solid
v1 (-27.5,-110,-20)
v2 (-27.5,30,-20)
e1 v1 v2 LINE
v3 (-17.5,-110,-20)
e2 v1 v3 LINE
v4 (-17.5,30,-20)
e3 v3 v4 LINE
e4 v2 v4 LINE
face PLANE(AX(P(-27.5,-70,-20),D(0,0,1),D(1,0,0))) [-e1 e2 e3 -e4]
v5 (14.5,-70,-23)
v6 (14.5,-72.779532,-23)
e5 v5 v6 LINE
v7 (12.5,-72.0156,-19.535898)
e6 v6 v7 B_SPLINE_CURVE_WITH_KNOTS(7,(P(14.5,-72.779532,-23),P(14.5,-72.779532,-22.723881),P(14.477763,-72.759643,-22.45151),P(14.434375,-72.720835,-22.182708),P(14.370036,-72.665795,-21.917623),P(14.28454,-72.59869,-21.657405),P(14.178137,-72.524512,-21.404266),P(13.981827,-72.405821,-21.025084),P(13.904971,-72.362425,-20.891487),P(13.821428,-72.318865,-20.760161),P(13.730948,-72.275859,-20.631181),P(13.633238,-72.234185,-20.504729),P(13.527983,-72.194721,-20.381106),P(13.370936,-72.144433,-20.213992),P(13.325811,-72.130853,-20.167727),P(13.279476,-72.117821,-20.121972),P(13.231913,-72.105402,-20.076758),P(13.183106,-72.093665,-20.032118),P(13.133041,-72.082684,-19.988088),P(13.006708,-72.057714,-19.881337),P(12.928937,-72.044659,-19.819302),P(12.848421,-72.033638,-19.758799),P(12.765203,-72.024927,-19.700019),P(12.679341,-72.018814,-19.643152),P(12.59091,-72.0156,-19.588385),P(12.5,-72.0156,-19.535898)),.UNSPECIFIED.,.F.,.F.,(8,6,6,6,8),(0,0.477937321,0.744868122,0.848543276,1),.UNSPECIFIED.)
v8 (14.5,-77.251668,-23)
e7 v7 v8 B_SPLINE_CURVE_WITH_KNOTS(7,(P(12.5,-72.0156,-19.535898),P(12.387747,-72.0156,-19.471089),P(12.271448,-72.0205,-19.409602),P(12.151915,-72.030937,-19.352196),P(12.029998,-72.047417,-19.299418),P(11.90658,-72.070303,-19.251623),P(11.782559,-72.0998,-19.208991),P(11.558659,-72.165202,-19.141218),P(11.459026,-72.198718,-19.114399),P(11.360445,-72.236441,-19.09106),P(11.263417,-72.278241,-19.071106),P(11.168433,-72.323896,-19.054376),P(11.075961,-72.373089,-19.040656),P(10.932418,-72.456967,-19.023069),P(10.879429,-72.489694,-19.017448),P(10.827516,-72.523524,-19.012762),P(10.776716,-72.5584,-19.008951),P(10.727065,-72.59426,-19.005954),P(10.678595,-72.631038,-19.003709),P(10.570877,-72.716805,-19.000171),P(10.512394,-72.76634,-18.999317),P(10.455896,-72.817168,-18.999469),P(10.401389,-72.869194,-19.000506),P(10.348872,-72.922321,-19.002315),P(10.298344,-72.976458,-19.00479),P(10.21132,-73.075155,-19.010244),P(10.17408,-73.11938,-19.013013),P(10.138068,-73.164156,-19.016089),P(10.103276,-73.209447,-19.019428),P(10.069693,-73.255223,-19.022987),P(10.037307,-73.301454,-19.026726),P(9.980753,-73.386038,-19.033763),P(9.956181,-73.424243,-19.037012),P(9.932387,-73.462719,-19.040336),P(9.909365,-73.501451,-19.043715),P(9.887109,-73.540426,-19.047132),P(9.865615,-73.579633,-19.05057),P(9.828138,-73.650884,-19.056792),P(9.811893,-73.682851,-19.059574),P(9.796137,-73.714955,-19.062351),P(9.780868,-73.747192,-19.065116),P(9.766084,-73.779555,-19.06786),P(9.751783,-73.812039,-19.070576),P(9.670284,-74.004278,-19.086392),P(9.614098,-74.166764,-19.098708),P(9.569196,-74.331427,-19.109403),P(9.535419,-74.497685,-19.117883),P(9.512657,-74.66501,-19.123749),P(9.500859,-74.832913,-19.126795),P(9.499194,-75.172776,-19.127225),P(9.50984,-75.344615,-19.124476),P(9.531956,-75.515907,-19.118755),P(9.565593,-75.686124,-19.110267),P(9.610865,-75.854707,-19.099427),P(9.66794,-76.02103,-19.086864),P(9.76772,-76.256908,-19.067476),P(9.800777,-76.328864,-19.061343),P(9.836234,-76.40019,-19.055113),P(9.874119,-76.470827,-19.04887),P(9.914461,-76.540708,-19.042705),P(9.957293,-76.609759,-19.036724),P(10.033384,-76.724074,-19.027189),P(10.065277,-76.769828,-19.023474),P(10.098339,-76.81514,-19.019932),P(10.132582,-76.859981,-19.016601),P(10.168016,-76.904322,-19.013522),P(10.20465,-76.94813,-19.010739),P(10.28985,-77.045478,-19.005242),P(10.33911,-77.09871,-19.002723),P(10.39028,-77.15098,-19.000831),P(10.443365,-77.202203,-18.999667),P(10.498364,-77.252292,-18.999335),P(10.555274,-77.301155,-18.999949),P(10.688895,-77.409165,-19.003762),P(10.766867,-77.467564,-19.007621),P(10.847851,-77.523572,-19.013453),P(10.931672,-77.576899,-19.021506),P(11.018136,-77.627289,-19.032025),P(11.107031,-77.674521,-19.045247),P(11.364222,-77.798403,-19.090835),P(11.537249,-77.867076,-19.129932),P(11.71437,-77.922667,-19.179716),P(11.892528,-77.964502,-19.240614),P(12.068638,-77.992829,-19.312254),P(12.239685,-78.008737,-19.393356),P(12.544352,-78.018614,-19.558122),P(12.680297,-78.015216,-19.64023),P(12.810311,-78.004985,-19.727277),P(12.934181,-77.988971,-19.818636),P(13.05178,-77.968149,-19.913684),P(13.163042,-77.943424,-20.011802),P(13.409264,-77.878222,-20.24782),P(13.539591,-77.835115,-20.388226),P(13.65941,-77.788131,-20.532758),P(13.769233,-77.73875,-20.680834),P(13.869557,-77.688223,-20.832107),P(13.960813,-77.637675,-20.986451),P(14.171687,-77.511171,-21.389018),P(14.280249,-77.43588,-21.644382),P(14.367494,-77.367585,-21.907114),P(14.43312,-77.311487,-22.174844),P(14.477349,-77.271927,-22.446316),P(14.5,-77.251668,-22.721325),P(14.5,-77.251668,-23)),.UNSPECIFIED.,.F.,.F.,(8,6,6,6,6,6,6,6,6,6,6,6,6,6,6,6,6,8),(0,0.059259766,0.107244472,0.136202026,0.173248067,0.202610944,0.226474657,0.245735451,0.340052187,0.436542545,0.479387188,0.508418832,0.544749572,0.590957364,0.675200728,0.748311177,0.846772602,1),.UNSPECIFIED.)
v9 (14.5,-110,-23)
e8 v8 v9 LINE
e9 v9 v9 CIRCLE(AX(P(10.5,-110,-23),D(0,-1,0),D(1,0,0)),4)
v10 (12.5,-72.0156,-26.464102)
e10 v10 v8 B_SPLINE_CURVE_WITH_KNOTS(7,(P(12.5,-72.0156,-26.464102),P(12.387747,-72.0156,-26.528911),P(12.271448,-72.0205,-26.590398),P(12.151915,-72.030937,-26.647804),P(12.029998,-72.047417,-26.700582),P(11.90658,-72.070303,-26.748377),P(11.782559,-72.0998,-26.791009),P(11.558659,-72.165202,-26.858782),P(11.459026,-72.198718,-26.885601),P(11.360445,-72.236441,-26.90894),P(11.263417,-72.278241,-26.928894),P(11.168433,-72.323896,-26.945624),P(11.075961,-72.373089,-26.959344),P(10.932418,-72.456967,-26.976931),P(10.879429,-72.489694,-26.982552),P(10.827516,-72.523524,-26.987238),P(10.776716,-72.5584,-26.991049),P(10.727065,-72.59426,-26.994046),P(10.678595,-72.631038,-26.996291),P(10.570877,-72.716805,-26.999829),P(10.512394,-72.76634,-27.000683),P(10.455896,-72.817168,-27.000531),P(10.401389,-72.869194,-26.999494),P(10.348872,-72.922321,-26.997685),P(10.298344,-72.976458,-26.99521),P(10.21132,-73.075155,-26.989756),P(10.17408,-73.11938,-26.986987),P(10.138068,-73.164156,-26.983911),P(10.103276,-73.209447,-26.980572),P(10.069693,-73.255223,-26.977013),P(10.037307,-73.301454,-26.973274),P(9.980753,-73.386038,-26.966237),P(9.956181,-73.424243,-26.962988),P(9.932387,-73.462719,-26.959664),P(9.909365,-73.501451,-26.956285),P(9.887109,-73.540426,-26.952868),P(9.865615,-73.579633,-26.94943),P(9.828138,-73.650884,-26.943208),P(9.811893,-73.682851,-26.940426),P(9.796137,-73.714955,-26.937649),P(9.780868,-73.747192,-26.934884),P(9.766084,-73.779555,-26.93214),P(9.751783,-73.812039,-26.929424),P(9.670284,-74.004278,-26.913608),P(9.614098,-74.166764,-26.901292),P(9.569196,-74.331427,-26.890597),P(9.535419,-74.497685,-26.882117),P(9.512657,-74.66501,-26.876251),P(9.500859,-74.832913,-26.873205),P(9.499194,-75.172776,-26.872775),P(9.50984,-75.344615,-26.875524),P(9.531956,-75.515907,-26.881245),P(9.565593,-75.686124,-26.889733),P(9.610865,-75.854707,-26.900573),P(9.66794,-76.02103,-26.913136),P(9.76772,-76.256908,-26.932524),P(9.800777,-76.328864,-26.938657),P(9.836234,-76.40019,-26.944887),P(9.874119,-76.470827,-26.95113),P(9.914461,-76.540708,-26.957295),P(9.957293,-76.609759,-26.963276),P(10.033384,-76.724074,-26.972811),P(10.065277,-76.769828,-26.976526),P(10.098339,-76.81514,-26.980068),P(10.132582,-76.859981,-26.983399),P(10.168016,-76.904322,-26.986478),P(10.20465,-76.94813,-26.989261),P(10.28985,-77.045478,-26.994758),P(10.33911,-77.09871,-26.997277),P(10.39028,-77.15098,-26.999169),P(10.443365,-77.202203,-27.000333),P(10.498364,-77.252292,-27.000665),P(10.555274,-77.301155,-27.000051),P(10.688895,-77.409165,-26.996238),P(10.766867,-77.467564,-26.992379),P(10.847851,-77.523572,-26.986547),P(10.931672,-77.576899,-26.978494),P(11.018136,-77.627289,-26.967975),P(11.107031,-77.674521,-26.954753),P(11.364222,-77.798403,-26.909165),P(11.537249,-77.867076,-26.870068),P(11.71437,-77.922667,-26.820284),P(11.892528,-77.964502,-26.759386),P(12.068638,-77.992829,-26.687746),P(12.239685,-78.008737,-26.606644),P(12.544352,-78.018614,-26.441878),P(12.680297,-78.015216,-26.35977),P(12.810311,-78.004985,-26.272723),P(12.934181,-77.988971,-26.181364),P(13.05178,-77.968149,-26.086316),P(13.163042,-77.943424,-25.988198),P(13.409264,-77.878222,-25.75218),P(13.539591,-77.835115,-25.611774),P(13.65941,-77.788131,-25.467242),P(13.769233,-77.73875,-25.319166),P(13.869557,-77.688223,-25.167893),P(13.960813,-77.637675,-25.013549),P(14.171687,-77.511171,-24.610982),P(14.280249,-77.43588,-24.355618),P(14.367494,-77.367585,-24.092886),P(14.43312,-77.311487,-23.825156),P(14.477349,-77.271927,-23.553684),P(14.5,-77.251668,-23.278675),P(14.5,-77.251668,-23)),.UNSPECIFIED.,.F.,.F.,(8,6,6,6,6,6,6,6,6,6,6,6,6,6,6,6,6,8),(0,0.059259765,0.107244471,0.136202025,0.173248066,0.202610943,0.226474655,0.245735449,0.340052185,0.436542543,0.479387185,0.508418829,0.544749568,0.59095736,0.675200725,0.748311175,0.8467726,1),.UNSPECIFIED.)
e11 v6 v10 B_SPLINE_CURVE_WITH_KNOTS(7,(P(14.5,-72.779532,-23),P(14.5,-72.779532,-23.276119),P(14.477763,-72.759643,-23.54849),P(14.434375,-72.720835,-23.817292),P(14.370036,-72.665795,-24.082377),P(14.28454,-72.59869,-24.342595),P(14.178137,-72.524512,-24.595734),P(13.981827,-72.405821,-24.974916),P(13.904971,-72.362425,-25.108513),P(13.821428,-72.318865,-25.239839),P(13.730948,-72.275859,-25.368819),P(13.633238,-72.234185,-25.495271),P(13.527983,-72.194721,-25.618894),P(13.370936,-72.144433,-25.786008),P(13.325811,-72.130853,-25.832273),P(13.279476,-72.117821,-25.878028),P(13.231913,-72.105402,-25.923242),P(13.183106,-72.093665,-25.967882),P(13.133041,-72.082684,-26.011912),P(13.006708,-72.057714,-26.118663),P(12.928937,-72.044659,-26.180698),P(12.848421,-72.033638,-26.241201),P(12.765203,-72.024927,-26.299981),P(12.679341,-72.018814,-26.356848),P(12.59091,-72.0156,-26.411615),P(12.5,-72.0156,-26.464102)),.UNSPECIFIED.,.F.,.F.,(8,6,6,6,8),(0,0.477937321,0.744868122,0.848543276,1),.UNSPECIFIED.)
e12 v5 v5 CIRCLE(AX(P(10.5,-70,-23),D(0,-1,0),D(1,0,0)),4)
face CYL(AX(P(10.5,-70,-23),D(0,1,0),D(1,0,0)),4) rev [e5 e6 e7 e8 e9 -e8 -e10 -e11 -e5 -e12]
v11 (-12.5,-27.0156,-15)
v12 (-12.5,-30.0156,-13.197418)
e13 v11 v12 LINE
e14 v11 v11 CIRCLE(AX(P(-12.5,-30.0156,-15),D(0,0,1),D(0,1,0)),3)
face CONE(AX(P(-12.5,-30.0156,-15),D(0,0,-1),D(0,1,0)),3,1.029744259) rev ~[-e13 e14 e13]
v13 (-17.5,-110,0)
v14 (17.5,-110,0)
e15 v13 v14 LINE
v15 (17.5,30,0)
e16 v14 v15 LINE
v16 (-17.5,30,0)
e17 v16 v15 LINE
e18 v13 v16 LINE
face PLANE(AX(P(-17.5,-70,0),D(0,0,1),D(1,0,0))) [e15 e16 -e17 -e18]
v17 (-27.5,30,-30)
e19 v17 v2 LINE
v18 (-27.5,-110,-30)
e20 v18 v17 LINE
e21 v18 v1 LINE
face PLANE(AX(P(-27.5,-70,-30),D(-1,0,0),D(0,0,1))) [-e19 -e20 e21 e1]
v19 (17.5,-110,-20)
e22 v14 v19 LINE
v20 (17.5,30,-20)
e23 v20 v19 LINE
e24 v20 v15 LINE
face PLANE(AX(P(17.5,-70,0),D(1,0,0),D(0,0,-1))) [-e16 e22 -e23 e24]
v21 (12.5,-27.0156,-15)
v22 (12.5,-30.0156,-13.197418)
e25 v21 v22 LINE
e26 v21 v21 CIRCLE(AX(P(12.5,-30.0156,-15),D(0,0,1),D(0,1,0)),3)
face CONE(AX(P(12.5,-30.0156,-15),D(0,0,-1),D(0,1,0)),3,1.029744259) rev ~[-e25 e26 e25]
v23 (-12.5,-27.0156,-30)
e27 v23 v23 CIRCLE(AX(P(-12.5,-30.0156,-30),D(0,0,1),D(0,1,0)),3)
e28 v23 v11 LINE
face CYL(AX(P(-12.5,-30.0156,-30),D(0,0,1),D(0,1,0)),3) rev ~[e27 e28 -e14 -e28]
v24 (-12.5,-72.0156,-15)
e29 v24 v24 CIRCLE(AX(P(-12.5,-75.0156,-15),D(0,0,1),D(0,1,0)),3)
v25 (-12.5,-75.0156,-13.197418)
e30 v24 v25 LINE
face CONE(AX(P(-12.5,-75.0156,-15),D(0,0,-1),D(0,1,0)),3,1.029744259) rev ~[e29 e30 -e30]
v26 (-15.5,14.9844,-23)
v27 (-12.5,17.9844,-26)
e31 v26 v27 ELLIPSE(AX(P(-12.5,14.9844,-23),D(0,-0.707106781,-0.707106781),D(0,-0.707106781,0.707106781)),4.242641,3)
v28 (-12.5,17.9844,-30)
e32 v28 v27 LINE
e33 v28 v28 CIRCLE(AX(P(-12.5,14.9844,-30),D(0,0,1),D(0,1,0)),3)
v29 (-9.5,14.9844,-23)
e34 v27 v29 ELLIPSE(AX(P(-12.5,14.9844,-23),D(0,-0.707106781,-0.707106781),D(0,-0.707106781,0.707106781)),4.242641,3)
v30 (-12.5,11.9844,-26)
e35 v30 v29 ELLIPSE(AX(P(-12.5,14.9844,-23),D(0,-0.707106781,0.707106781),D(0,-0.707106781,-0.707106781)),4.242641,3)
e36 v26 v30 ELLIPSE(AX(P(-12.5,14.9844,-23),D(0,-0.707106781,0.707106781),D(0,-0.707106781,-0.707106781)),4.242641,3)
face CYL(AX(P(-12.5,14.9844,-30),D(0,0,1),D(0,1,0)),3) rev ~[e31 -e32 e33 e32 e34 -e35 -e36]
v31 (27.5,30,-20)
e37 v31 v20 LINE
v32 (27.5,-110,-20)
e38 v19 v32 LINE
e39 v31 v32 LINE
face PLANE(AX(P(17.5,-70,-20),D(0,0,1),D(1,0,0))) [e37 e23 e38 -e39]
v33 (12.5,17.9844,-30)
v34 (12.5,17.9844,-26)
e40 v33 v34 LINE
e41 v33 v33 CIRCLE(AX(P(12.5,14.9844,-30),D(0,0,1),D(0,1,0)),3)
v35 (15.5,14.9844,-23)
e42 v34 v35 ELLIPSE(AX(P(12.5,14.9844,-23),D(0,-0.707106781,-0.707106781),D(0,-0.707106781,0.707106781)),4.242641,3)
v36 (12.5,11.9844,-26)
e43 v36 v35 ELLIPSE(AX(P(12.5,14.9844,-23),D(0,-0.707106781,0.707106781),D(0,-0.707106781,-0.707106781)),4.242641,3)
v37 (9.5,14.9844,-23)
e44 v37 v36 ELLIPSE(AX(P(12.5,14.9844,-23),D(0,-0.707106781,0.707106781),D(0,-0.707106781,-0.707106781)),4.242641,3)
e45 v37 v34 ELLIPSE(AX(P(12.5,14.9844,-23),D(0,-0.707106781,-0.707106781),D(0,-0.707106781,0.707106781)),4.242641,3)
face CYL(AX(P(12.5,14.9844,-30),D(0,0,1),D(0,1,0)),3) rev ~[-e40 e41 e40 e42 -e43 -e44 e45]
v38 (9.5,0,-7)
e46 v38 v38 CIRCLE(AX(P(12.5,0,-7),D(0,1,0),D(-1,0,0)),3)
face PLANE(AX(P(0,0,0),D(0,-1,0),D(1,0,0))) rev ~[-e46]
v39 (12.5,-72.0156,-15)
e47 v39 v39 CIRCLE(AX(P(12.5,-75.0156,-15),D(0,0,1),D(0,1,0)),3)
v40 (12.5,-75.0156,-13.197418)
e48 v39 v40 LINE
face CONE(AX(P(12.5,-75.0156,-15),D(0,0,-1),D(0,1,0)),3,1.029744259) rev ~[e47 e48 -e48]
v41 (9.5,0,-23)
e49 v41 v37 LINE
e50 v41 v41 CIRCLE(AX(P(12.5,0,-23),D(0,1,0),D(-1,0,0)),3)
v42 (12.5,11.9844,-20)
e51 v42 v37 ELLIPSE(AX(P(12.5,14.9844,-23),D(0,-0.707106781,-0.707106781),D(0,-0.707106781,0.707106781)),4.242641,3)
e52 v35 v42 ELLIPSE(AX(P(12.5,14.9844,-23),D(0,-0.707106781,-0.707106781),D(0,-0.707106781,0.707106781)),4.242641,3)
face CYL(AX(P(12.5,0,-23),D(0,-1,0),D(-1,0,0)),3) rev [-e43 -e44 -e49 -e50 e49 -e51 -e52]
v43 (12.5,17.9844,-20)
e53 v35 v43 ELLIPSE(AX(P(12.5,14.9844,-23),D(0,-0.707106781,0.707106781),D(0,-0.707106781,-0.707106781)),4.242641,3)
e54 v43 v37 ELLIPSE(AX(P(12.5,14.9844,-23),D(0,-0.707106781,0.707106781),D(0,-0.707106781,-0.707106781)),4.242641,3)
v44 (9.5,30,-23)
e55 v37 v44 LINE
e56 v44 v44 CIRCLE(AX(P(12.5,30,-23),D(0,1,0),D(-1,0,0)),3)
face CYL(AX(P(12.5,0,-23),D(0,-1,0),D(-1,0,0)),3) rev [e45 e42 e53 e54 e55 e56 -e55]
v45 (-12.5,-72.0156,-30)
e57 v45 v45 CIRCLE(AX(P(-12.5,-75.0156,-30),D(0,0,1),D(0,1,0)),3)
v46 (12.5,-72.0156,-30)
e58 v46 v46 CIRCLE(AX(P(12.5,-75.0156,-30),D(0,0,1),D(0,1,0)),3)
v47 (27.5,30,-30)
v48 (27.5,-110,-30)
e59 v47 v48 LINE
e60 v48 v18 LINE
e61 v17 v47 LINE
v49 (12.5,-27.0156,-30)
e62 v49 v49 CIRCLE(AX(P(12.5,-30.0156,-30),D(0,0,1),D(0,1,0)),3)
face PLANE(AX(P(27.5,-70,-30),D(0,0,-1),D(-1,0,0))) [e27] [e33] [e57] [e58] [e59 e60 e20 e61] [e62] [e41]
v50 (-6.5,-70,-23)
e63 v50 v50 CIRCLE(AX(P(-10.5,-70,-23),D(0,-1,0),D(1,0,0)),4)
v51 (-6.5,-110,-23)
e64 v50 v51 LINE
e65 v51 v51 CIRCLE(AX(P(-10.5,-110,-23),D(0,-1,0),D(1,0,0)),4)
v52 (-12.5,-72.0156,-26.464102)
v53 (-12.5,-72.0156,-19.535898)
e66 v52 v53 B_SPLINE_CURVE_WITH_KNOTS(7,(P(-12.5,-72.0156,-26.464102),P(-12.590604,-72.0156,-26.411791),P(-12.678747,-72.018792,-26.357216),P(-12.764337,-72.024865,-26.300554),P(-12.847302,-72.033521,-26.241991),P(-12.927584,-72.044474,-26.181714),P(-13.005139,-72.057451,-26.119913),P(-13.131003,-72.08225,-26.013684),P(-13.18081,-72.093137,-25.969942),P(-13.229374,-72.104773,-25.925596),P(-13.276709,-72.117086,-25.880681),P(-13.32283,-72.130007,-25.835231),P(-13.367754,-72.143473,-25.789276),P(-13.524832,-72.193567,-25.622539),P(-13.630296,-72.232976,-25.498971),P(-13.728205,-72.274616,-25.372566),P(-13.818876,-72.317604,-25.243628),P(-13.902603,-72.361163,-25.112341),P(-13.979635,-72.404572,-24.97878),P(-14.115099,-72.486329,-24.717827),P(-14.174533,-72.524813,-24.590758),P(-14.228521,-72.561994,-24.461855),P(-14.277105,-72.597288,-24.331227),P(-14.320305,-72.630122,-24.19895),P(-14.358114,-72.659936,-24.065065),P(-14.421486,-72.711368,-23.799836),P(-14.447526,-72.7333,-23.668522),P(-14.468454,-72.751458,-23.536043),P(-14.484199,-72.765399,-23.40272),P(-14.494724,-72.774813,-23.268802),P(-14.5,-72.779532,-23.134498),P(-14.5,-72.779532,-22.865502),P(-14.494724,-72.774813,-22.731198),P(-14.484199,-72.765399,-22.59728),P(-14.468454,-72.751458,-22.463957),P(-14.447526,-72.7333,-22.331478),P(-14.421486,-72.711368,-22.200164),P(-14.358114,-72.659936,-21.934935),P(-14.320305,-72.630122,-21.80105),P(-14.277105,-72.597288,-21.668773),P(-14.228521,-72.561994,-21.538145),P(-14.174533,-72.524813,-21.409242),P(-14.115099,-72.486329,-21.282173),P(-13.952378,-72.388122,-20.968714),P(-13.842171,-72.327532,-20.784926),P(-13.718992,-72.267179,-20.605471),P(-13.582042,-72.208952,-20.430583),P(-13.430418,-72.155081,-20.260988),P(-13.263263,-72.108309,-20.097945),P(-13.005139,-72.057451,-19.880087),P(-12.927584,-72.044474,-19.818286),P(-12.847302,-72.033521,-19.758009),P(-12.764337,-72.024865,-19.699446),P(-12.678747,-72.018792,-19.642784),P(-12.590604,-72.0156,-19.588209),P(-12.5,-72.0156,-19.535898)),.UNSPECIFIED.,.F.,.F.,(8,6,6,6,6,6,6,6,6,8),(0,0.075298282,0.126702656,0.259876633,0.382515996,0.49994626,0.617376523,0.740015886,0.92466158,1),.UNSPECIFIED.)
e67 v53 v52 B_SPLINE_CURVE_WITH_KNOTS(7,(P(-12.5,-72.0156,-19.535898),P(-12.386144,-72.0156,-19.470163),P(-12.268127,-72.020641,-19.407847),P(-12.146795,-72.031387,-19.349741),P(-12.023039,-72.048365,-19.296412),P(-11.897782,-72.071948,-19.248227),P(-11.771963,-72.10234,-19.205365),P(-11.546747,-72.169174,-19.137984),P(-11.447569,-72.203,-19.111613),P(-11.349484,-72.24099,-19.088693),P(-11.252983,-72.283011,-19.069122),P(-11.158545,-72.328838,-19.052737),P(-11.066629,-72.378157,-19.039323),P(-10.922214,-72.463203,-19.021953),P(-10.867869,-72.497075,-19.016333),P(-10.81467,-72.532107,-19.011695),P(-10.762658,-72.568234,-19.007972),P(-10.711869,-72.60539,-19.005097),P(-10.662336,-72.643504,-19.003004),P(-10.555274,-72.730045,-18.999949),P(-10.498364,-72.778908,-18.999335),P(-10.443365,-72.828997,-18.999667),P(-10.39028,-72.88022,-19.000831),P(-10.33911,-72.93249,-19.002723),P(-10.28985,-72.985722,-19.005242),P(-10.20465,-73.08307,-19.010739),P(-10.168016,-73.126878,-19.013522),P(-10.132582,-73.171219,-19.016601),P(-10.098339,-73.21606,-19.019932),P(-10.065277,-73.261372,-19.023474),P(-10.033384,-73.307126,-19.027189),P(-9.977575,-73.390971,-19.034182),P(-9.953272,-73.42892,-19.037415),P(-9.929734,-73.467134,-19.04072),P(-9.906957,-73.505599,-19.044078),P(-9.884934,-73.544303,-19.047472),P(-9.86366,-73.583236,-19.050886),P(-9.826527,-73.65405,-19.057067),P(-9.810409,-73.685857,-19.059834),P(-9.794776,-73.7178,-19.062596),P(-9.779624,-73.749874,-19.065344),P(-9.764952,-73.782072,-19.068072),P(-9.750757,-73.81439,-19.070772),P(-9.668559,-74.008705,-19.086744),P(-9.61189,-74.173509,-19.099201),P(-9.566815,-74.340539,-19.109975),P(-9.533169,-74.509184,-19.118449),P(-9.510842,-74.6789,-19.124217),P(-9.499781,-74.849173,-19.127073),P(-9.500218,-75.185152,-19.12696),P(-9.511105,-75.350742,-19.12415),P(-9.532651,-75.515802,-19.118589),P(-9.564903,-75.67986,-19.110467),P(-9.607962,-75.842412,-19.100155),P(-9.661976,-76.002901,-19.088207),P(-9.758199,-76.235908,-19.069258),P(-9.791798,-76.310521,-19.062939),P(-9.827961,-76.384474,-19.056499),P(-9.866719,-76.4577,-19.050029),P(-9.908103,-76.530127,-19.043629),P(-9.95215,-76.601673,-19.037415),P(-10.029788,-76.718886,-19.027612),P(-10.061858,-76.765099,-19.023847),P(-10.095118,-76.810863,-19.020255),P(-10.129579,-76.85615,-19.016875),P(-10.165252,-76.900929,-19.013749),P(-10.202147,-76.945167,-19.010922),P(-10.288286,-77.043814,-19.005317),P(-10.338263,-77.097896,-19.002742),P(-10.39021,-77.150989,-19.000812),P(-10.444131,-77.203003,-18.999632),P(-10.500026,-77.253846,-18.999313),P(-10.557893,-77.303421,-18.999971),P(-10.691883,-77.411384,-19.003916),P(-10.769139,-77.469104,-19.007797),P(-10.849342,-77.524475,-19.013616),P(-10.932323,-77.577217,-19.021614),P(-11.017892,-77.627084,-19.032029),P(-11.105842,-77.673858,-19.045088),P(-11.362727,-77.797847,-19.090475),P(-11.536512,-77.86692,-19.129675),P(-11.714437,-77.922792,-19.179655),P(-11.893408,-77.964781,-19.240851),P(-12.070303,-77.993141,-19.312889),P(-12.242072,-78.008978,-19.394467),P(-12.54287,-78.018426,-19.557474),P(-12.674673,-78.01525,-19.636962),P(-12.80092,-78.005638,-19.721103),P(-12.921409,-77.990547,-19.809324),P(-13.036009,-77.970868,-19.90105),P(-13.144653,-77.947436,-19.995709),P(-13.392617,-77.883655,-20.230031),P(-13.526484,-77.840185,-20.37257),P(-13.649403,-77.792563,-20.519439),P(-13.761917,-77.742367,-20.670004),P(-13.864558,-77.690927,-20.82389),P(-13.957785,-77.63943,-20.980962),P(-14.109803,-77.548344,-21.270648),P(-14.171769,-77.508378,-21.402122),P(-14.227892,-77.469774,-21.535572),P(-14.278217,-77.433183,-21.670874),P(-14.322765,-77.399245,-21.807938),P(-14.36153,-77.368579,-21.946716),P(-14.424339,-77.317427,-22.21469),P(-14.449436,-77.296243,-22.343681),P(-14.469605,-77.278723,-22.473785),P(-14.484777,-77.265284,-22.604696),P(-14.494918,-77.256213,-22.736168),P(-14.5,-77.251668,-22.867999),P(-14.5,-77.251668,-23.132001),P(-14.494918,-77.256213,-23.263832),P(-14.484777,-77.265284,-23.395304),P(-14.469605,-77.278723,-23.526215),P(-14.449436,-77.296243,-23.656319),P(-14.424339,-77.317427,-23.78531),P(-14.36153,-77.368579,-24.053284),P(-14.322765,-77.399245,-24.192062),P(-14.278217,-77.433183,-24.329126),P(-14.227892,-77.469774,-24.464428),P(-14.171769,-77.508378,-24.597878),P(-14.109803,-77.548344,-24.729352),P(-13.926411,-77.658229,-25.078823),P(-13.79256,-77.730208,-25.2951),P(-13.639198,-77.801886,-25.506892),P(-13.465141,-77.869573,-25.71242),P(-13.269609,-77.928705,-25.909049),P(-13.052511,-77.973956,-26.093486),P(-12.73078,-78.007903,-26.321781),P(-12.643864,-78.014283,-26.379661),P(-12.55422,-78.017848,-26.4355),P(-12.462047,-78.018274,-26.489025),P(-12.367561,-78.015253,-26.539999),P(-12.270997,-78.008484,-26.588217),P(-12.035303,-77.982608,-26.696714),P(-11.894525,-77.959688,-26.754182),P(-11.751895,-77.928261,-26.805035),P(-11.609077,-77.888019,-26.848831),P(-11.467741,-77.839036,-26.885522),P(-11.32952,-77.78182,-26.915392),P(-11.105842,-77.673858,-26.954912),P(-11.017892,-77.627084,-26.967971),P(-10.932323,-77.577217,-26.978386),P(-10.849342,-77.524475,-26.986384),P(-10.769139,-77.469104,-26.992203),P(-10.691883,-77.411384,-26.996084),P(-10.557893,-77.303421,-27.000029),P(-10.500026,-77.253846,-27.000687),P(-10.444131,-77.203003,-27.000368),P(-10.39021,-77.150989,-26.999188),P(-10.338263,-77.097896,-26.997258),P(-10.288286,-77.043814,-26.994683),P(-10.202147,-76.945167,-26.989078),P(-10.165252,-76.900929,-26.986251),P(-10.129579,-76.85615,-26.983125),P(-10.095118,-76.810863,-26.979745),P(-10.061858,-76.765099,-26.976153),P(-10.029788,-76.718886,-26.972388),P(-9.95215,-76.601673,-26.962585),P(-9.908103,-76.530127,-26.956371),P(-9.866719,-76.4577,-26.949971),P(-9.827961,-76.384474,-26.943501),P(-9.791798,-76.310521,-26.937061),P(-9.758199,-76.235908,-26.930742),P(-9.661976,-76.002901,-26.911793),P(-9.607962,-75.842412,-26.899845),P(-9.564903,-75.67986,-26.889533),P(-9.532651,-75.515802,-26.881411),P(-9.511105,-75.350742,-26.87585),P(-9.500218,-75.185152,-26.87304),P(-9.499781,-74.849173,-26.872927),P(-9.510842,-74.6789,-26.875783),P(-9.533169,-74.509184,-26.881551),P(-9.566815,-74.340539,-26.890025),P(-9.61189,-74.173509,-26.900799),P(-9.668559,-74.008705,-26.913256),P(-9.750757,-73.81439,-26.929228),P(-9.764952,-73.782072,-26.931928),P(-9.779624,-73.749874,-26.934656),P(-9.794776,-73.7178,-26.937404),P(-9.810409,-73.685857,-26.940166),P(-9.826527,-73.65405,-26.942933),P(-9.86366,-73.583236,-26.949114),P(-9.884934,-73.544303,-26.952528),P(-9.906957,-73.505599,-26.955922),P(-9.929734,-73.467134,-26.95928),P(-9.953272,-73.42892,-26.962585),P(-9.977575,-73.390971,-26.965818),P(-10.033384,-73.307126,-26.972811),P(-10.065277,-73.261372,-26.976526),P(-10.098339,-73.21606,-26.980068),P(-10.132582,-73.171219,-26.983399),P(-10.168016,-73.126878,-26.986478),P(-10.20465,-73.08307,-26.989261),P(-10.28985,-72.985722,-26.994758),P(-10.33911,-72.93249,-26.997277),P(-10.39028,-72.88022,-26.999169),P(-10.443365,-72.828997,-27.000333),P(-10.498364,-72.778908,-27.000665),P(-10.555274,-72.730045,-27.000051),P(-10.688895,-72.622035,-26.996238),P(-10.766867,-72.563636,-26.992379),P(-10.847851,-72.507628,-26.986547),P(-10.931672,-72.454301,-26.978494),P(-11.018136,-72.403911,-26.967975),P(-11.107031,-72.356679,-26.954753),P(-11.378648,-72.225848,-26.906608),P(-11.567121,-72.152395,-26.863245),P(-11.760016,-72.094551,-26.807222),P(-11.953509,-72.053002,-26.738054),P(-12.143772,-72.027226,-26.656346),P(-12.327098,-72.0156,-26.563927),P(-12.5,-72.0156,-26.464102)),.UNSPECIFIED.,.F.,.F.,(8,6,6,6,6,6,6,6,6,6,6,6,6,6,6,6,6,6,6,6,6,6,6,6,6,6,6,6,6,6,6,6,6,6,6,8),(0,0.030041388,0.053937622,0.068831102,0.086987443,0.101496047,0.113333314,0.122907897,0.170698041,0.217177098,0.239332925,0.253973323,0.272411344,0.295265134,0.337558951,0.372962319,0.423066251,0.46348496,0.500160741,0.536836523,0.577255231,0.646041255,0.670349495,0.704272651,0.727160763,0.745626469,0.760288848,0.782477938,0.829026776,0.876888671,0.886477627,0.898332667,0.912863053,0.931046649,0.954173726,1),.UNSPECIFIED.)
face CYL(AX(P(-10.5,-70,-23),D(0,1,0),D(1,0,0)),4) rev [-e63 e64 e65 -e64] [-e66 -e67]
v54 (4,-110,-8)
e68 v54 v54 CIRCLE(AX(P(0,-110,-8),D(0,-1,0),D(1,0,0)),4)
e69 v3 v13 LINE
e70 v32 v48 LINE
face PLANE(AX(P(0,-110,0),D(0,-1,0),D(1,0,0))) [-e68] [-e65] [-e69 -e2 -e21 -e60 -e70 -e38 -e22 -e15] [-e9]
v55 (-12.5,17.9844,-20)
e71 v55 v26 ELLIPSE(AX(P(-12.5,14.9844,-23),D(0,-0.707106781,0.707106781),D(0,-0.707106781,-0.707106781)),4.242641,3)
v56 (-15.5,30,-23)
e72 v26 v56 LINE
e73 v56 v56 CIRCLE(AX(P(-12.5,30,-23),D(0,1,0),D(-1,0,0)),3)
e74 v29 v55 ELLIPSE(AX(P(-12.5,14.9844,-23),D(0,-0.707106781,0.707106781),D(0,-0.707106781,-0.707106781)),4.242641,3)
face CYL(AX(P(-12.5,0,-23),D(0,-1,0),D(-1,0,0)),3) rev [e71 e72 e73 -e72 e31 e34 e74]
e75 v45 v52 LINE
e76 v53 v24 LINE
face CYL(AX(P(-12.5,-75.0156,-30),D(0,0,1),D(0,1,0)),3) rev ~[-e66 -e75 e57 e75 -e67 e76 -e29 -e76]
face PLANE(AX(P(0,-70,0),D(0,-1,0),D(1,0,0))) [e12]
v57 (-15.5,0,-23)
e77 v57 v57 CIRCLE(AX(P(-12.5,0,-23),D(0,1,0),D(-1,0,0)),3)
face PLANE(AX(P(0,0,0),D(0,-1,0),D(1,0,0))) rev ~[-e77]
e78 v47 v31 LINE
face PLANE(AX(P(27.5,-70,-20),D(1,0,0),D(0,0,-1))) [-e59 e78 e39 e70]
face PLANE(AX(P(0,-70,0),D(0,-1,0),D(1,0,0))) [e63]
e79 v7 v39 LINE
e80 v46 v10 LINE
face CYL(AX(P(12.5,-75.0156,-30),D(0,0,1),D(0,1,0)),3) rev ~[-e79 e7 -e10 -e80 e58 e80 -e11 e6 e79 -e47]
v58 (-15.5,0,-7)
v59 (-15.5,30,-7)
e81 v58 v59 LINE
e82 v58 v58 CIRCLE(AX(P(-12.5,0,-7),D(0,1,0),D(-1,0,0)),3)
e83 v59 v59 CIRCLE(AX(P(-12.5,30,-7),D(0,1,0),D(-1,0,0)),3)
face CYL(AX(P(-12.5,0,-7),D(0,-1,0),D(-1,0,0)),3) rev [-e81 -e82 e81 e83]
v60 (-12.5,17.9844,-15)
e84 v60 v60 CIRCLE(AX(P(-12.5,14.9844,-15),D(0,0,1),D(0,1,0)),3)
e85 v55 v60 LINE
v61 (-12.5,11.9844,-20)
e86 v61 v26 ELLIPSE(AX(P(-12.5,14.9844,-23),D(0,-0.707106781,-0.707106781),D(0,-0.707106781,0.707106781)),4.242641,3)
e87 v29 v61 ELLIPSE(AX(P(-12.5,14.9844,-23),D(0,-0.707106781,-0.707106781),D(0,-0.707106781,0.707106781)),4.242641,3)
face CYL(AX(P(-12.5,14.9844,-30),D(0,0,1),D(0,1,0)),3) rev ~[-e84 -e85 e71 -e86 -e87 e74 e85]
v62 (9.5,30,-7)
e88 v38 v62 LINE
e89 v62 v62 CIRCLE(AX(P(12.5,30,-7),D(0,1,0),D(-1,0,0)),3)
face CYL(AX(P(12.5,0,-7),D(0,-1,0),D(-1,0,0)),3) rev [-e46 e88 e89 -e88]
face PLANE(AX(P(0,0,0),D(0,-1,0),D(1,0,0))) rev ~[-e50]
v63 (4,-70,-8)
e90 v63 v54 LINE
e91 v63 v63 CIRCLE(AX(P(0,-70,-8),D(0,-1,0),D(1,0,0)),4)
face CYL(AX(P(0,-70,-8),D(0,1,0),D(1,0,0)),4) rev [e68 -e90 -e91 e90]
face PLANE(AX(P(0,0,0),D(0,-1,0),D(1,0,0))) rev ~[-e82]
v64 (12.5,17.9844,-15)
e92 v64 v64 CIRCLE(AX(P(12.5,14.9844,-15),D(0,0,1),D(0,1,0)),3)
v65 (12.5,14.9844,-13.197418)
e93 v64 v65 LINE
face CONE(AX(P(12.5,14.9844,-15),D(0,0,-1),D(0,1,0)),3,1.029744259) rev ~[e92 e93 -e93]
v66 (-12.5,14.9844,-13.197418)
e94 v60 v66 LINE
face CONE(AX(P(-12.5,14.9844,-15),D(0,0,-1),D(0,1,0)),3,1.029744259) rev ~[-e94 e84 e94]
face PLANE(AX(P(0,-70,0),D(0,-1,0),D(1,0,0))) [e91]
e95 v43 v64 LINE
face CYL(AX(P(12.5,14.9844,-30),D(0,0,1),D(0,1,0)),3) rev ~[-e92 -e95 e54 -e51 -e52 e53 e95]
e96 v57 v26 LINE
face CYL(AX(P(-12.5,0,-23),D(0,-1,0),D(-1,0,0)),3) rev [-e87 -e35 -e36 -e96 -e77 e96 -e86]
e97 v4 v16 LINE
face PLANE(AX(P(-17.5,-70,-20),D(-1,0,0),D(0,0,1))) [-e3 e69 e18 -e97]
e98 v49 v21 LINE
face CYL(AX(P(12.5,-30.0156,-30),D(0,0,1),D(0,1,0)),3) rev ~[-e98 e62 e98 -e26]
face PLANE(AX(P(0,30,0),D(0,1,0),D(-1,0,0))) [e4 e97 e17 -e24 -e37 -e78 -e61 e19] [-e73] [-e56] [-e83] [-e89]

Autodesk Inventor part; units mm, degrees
ref_plane "YZ Plane" through (0, 0, 0) normal (1, 0, 0) x (0, 1, 0)
ref_plane "XZ Plane" through (0, 0, 0) normal (0, 1, 0) x (-1, 0, 0)
ref_plane "XY Plane" through (0, 0, 0) normal (0, 0, 1) x (1, 0, 0)
sketch "Sketch1" plane through (0, 0, 0) normal (0, 1, 0) x (-1, 0, 0)
  line L0 (17.5, 0) -> (-17.5, 0)
  line L1 (27.5, -30) -> (-27.5, -30)
  line L2 (27.5, -30) -> (27.5, -20)
  line L3 (27.5, -20) -> (17.5, -20)
  line L4 (-27.5, -30) -> (-27.5, -20)
  line L5 (-27.5, -20) -> (-17.5, -20)
  line L6 (17.5, -20) -> (17.5, 0)
  line L7 (-17.5, -20) -> (-17.5, 0)
  circle A0 centre (12.5, -23) radius 3
  circle A1 centre (-12.5, -23) radius 3
  circle A2 centre (-12.5, -7) radius 3
  circle A3 centre (12.5, -7) radius 3
  point P0 (0, 0)
  dimension "d2" = 35
  dimension "d8" = 55
  dimension "d9" = 10
  dimension "d10" = 10
  dimension "d11" = 6
  dimension "d12" = 6
  dimension "d13" = 6
  dimension "d14" = 6
  dimension "d17" = 7
  dimension "d18" = 16
extrude "Extrusion1" add sketch "Sketch1" along normal blind 30
sketch "Sketch4" plane through (0, 0, 0) normal (0, -1, 0) x (1, 0, 0)
  line L0 (27.5, -20) -> (27.5, -30) projected
  line L1 (27.5, -30) -> (-27.5, -30) projected
  line L2 (27.5, -30) -> (-27.5, -30)
  line L3 (-27.5, -30) -> (-27.5, -20) projected
  line L4 (-27.5, -30) -> (-27.5, -20)
  line L5 (-27.5, -20) -> (-17.5, -20) projected
  line L6 (-27.5, -20) -> (-17.5, -20)
  line L7 (-17.5, -20) -> (-17.5, 0) projected
  line L8 (-17.5, -20) -> (-17.5, 0)
  line L9 (-17.5, 0) -> (17.5, 0) projected
  line L10 (-17.5, 0) -> (17.5, 0)
  line L11 (17.5, 0) -> (17.5, -20) projected
  line L12 (17.5, 0) -> (17.5, -20)
  line L13 (17.5, -20) -> (27.5, -20)
  line L14 (27.5, -20) -> (27.5, -30)
  point P0 (0, 0)
extrude "Extrusion3" add sketch "Sketch4" along normal blind 70
sketch "Sketch5" plane through (0, -70, 0) normal (0, -1, 0) x (1, 0, 0)
  line L0 (27.5, -30) -> (-27.5, -30) projected
  line L1 (27.5, -30) -> (-27.5, -30)
  line L2 (-27.5, -30) -> (-27.5, -20) projected
  line L3 (-27.5, -30) -> (-27.5, -20)
  line L4 (-27.5, -20) -> (-17.5, -20) projected
  line L5 (-27.5, -20) -> (-17.5, -20)
  line L6 (-17.5, -20) -> (-17.5, 0) projected
  line L7 (-17.5, -20) -> (-17.5, 0)
  line L8 (-17.5, 0) -> (17.5, 0)
  line L9 (17.5, 0) -> (17.5, -20) projected
  line L10 (17.5, 0) -> (17.5, -20)
  line L11 (17.5, -20) -> (27.5, -20) projected
  line L12 (17.5, -20) -> (27.5, -20)
  line L13 (27.5, -20) -> (27.5, -30) projected
  line L14 (27.5, -20) -> (27.5, -30)
  circle A0 centre (0, -8) radius 4
  circle A1 centre (10.5, -23) radius 4
  circle A2 centre (-10.5, -23) radius 4
  point P0 (0, 0)
  dimension "d25" = 8
  dimension "d26" = 8
  dimension "d27" = 8
  dimension "d28" = 10.5
  dimension "d29" = 10.5
  dimension "d30" = 8
  dimension "d31" = 15
extrude "Extrusion4" add sketch "Sketch5" along normal blind 40
sketch "Sketch6" plane through (27.5, 30, -30) normal (0, 0, -1) x (-1, 0, 0)
  circle A0 centre (40, -105.0156) radius 3
  circle A1 centre (15, -105.0156) radius 3
  circle A2 centre (15, -60.0156) radius 3
  line L0 (55, -140) -> (0, -140) projected
  line L1 (27.5, 4.7422) -> (27.5, -229.8437)
  line L2 (55, -140) -> (55, 0) projected
  circle A3 centre (40, -60.0156) radius 3
  circle A4 centre (15, -15.0156) radius 3
  circle A5 centre (40, -15.0156) radius 3
  point P0 (27.5, -30)
  dimension "d35" = 6
  dimension "d38" = 6
  dimension "d39" = 6
  dimension "d42" = 45
  dimension "d43" = 27.5
  dimension "d44" = 12.5
  dimension "d53" = 6
  dimension "d54" = 6
  dimension "d55" = 6
  dimension "d56" = 45
  dimension "d57" = 45
hole "Hole1" at (-12.5, -75.0156, -30) at (12.5, -75.0156, -30) at (-12.5, -30.0156, -30) at (12.5, -30.0156, -30) at (12.5, 14.9844, -30) at (-12.5, 14.9844, -30) direction (0, 0, 1) diameter 6 depth 15 tip angle 118
properties part number "Fuhrung" material "Steel"
